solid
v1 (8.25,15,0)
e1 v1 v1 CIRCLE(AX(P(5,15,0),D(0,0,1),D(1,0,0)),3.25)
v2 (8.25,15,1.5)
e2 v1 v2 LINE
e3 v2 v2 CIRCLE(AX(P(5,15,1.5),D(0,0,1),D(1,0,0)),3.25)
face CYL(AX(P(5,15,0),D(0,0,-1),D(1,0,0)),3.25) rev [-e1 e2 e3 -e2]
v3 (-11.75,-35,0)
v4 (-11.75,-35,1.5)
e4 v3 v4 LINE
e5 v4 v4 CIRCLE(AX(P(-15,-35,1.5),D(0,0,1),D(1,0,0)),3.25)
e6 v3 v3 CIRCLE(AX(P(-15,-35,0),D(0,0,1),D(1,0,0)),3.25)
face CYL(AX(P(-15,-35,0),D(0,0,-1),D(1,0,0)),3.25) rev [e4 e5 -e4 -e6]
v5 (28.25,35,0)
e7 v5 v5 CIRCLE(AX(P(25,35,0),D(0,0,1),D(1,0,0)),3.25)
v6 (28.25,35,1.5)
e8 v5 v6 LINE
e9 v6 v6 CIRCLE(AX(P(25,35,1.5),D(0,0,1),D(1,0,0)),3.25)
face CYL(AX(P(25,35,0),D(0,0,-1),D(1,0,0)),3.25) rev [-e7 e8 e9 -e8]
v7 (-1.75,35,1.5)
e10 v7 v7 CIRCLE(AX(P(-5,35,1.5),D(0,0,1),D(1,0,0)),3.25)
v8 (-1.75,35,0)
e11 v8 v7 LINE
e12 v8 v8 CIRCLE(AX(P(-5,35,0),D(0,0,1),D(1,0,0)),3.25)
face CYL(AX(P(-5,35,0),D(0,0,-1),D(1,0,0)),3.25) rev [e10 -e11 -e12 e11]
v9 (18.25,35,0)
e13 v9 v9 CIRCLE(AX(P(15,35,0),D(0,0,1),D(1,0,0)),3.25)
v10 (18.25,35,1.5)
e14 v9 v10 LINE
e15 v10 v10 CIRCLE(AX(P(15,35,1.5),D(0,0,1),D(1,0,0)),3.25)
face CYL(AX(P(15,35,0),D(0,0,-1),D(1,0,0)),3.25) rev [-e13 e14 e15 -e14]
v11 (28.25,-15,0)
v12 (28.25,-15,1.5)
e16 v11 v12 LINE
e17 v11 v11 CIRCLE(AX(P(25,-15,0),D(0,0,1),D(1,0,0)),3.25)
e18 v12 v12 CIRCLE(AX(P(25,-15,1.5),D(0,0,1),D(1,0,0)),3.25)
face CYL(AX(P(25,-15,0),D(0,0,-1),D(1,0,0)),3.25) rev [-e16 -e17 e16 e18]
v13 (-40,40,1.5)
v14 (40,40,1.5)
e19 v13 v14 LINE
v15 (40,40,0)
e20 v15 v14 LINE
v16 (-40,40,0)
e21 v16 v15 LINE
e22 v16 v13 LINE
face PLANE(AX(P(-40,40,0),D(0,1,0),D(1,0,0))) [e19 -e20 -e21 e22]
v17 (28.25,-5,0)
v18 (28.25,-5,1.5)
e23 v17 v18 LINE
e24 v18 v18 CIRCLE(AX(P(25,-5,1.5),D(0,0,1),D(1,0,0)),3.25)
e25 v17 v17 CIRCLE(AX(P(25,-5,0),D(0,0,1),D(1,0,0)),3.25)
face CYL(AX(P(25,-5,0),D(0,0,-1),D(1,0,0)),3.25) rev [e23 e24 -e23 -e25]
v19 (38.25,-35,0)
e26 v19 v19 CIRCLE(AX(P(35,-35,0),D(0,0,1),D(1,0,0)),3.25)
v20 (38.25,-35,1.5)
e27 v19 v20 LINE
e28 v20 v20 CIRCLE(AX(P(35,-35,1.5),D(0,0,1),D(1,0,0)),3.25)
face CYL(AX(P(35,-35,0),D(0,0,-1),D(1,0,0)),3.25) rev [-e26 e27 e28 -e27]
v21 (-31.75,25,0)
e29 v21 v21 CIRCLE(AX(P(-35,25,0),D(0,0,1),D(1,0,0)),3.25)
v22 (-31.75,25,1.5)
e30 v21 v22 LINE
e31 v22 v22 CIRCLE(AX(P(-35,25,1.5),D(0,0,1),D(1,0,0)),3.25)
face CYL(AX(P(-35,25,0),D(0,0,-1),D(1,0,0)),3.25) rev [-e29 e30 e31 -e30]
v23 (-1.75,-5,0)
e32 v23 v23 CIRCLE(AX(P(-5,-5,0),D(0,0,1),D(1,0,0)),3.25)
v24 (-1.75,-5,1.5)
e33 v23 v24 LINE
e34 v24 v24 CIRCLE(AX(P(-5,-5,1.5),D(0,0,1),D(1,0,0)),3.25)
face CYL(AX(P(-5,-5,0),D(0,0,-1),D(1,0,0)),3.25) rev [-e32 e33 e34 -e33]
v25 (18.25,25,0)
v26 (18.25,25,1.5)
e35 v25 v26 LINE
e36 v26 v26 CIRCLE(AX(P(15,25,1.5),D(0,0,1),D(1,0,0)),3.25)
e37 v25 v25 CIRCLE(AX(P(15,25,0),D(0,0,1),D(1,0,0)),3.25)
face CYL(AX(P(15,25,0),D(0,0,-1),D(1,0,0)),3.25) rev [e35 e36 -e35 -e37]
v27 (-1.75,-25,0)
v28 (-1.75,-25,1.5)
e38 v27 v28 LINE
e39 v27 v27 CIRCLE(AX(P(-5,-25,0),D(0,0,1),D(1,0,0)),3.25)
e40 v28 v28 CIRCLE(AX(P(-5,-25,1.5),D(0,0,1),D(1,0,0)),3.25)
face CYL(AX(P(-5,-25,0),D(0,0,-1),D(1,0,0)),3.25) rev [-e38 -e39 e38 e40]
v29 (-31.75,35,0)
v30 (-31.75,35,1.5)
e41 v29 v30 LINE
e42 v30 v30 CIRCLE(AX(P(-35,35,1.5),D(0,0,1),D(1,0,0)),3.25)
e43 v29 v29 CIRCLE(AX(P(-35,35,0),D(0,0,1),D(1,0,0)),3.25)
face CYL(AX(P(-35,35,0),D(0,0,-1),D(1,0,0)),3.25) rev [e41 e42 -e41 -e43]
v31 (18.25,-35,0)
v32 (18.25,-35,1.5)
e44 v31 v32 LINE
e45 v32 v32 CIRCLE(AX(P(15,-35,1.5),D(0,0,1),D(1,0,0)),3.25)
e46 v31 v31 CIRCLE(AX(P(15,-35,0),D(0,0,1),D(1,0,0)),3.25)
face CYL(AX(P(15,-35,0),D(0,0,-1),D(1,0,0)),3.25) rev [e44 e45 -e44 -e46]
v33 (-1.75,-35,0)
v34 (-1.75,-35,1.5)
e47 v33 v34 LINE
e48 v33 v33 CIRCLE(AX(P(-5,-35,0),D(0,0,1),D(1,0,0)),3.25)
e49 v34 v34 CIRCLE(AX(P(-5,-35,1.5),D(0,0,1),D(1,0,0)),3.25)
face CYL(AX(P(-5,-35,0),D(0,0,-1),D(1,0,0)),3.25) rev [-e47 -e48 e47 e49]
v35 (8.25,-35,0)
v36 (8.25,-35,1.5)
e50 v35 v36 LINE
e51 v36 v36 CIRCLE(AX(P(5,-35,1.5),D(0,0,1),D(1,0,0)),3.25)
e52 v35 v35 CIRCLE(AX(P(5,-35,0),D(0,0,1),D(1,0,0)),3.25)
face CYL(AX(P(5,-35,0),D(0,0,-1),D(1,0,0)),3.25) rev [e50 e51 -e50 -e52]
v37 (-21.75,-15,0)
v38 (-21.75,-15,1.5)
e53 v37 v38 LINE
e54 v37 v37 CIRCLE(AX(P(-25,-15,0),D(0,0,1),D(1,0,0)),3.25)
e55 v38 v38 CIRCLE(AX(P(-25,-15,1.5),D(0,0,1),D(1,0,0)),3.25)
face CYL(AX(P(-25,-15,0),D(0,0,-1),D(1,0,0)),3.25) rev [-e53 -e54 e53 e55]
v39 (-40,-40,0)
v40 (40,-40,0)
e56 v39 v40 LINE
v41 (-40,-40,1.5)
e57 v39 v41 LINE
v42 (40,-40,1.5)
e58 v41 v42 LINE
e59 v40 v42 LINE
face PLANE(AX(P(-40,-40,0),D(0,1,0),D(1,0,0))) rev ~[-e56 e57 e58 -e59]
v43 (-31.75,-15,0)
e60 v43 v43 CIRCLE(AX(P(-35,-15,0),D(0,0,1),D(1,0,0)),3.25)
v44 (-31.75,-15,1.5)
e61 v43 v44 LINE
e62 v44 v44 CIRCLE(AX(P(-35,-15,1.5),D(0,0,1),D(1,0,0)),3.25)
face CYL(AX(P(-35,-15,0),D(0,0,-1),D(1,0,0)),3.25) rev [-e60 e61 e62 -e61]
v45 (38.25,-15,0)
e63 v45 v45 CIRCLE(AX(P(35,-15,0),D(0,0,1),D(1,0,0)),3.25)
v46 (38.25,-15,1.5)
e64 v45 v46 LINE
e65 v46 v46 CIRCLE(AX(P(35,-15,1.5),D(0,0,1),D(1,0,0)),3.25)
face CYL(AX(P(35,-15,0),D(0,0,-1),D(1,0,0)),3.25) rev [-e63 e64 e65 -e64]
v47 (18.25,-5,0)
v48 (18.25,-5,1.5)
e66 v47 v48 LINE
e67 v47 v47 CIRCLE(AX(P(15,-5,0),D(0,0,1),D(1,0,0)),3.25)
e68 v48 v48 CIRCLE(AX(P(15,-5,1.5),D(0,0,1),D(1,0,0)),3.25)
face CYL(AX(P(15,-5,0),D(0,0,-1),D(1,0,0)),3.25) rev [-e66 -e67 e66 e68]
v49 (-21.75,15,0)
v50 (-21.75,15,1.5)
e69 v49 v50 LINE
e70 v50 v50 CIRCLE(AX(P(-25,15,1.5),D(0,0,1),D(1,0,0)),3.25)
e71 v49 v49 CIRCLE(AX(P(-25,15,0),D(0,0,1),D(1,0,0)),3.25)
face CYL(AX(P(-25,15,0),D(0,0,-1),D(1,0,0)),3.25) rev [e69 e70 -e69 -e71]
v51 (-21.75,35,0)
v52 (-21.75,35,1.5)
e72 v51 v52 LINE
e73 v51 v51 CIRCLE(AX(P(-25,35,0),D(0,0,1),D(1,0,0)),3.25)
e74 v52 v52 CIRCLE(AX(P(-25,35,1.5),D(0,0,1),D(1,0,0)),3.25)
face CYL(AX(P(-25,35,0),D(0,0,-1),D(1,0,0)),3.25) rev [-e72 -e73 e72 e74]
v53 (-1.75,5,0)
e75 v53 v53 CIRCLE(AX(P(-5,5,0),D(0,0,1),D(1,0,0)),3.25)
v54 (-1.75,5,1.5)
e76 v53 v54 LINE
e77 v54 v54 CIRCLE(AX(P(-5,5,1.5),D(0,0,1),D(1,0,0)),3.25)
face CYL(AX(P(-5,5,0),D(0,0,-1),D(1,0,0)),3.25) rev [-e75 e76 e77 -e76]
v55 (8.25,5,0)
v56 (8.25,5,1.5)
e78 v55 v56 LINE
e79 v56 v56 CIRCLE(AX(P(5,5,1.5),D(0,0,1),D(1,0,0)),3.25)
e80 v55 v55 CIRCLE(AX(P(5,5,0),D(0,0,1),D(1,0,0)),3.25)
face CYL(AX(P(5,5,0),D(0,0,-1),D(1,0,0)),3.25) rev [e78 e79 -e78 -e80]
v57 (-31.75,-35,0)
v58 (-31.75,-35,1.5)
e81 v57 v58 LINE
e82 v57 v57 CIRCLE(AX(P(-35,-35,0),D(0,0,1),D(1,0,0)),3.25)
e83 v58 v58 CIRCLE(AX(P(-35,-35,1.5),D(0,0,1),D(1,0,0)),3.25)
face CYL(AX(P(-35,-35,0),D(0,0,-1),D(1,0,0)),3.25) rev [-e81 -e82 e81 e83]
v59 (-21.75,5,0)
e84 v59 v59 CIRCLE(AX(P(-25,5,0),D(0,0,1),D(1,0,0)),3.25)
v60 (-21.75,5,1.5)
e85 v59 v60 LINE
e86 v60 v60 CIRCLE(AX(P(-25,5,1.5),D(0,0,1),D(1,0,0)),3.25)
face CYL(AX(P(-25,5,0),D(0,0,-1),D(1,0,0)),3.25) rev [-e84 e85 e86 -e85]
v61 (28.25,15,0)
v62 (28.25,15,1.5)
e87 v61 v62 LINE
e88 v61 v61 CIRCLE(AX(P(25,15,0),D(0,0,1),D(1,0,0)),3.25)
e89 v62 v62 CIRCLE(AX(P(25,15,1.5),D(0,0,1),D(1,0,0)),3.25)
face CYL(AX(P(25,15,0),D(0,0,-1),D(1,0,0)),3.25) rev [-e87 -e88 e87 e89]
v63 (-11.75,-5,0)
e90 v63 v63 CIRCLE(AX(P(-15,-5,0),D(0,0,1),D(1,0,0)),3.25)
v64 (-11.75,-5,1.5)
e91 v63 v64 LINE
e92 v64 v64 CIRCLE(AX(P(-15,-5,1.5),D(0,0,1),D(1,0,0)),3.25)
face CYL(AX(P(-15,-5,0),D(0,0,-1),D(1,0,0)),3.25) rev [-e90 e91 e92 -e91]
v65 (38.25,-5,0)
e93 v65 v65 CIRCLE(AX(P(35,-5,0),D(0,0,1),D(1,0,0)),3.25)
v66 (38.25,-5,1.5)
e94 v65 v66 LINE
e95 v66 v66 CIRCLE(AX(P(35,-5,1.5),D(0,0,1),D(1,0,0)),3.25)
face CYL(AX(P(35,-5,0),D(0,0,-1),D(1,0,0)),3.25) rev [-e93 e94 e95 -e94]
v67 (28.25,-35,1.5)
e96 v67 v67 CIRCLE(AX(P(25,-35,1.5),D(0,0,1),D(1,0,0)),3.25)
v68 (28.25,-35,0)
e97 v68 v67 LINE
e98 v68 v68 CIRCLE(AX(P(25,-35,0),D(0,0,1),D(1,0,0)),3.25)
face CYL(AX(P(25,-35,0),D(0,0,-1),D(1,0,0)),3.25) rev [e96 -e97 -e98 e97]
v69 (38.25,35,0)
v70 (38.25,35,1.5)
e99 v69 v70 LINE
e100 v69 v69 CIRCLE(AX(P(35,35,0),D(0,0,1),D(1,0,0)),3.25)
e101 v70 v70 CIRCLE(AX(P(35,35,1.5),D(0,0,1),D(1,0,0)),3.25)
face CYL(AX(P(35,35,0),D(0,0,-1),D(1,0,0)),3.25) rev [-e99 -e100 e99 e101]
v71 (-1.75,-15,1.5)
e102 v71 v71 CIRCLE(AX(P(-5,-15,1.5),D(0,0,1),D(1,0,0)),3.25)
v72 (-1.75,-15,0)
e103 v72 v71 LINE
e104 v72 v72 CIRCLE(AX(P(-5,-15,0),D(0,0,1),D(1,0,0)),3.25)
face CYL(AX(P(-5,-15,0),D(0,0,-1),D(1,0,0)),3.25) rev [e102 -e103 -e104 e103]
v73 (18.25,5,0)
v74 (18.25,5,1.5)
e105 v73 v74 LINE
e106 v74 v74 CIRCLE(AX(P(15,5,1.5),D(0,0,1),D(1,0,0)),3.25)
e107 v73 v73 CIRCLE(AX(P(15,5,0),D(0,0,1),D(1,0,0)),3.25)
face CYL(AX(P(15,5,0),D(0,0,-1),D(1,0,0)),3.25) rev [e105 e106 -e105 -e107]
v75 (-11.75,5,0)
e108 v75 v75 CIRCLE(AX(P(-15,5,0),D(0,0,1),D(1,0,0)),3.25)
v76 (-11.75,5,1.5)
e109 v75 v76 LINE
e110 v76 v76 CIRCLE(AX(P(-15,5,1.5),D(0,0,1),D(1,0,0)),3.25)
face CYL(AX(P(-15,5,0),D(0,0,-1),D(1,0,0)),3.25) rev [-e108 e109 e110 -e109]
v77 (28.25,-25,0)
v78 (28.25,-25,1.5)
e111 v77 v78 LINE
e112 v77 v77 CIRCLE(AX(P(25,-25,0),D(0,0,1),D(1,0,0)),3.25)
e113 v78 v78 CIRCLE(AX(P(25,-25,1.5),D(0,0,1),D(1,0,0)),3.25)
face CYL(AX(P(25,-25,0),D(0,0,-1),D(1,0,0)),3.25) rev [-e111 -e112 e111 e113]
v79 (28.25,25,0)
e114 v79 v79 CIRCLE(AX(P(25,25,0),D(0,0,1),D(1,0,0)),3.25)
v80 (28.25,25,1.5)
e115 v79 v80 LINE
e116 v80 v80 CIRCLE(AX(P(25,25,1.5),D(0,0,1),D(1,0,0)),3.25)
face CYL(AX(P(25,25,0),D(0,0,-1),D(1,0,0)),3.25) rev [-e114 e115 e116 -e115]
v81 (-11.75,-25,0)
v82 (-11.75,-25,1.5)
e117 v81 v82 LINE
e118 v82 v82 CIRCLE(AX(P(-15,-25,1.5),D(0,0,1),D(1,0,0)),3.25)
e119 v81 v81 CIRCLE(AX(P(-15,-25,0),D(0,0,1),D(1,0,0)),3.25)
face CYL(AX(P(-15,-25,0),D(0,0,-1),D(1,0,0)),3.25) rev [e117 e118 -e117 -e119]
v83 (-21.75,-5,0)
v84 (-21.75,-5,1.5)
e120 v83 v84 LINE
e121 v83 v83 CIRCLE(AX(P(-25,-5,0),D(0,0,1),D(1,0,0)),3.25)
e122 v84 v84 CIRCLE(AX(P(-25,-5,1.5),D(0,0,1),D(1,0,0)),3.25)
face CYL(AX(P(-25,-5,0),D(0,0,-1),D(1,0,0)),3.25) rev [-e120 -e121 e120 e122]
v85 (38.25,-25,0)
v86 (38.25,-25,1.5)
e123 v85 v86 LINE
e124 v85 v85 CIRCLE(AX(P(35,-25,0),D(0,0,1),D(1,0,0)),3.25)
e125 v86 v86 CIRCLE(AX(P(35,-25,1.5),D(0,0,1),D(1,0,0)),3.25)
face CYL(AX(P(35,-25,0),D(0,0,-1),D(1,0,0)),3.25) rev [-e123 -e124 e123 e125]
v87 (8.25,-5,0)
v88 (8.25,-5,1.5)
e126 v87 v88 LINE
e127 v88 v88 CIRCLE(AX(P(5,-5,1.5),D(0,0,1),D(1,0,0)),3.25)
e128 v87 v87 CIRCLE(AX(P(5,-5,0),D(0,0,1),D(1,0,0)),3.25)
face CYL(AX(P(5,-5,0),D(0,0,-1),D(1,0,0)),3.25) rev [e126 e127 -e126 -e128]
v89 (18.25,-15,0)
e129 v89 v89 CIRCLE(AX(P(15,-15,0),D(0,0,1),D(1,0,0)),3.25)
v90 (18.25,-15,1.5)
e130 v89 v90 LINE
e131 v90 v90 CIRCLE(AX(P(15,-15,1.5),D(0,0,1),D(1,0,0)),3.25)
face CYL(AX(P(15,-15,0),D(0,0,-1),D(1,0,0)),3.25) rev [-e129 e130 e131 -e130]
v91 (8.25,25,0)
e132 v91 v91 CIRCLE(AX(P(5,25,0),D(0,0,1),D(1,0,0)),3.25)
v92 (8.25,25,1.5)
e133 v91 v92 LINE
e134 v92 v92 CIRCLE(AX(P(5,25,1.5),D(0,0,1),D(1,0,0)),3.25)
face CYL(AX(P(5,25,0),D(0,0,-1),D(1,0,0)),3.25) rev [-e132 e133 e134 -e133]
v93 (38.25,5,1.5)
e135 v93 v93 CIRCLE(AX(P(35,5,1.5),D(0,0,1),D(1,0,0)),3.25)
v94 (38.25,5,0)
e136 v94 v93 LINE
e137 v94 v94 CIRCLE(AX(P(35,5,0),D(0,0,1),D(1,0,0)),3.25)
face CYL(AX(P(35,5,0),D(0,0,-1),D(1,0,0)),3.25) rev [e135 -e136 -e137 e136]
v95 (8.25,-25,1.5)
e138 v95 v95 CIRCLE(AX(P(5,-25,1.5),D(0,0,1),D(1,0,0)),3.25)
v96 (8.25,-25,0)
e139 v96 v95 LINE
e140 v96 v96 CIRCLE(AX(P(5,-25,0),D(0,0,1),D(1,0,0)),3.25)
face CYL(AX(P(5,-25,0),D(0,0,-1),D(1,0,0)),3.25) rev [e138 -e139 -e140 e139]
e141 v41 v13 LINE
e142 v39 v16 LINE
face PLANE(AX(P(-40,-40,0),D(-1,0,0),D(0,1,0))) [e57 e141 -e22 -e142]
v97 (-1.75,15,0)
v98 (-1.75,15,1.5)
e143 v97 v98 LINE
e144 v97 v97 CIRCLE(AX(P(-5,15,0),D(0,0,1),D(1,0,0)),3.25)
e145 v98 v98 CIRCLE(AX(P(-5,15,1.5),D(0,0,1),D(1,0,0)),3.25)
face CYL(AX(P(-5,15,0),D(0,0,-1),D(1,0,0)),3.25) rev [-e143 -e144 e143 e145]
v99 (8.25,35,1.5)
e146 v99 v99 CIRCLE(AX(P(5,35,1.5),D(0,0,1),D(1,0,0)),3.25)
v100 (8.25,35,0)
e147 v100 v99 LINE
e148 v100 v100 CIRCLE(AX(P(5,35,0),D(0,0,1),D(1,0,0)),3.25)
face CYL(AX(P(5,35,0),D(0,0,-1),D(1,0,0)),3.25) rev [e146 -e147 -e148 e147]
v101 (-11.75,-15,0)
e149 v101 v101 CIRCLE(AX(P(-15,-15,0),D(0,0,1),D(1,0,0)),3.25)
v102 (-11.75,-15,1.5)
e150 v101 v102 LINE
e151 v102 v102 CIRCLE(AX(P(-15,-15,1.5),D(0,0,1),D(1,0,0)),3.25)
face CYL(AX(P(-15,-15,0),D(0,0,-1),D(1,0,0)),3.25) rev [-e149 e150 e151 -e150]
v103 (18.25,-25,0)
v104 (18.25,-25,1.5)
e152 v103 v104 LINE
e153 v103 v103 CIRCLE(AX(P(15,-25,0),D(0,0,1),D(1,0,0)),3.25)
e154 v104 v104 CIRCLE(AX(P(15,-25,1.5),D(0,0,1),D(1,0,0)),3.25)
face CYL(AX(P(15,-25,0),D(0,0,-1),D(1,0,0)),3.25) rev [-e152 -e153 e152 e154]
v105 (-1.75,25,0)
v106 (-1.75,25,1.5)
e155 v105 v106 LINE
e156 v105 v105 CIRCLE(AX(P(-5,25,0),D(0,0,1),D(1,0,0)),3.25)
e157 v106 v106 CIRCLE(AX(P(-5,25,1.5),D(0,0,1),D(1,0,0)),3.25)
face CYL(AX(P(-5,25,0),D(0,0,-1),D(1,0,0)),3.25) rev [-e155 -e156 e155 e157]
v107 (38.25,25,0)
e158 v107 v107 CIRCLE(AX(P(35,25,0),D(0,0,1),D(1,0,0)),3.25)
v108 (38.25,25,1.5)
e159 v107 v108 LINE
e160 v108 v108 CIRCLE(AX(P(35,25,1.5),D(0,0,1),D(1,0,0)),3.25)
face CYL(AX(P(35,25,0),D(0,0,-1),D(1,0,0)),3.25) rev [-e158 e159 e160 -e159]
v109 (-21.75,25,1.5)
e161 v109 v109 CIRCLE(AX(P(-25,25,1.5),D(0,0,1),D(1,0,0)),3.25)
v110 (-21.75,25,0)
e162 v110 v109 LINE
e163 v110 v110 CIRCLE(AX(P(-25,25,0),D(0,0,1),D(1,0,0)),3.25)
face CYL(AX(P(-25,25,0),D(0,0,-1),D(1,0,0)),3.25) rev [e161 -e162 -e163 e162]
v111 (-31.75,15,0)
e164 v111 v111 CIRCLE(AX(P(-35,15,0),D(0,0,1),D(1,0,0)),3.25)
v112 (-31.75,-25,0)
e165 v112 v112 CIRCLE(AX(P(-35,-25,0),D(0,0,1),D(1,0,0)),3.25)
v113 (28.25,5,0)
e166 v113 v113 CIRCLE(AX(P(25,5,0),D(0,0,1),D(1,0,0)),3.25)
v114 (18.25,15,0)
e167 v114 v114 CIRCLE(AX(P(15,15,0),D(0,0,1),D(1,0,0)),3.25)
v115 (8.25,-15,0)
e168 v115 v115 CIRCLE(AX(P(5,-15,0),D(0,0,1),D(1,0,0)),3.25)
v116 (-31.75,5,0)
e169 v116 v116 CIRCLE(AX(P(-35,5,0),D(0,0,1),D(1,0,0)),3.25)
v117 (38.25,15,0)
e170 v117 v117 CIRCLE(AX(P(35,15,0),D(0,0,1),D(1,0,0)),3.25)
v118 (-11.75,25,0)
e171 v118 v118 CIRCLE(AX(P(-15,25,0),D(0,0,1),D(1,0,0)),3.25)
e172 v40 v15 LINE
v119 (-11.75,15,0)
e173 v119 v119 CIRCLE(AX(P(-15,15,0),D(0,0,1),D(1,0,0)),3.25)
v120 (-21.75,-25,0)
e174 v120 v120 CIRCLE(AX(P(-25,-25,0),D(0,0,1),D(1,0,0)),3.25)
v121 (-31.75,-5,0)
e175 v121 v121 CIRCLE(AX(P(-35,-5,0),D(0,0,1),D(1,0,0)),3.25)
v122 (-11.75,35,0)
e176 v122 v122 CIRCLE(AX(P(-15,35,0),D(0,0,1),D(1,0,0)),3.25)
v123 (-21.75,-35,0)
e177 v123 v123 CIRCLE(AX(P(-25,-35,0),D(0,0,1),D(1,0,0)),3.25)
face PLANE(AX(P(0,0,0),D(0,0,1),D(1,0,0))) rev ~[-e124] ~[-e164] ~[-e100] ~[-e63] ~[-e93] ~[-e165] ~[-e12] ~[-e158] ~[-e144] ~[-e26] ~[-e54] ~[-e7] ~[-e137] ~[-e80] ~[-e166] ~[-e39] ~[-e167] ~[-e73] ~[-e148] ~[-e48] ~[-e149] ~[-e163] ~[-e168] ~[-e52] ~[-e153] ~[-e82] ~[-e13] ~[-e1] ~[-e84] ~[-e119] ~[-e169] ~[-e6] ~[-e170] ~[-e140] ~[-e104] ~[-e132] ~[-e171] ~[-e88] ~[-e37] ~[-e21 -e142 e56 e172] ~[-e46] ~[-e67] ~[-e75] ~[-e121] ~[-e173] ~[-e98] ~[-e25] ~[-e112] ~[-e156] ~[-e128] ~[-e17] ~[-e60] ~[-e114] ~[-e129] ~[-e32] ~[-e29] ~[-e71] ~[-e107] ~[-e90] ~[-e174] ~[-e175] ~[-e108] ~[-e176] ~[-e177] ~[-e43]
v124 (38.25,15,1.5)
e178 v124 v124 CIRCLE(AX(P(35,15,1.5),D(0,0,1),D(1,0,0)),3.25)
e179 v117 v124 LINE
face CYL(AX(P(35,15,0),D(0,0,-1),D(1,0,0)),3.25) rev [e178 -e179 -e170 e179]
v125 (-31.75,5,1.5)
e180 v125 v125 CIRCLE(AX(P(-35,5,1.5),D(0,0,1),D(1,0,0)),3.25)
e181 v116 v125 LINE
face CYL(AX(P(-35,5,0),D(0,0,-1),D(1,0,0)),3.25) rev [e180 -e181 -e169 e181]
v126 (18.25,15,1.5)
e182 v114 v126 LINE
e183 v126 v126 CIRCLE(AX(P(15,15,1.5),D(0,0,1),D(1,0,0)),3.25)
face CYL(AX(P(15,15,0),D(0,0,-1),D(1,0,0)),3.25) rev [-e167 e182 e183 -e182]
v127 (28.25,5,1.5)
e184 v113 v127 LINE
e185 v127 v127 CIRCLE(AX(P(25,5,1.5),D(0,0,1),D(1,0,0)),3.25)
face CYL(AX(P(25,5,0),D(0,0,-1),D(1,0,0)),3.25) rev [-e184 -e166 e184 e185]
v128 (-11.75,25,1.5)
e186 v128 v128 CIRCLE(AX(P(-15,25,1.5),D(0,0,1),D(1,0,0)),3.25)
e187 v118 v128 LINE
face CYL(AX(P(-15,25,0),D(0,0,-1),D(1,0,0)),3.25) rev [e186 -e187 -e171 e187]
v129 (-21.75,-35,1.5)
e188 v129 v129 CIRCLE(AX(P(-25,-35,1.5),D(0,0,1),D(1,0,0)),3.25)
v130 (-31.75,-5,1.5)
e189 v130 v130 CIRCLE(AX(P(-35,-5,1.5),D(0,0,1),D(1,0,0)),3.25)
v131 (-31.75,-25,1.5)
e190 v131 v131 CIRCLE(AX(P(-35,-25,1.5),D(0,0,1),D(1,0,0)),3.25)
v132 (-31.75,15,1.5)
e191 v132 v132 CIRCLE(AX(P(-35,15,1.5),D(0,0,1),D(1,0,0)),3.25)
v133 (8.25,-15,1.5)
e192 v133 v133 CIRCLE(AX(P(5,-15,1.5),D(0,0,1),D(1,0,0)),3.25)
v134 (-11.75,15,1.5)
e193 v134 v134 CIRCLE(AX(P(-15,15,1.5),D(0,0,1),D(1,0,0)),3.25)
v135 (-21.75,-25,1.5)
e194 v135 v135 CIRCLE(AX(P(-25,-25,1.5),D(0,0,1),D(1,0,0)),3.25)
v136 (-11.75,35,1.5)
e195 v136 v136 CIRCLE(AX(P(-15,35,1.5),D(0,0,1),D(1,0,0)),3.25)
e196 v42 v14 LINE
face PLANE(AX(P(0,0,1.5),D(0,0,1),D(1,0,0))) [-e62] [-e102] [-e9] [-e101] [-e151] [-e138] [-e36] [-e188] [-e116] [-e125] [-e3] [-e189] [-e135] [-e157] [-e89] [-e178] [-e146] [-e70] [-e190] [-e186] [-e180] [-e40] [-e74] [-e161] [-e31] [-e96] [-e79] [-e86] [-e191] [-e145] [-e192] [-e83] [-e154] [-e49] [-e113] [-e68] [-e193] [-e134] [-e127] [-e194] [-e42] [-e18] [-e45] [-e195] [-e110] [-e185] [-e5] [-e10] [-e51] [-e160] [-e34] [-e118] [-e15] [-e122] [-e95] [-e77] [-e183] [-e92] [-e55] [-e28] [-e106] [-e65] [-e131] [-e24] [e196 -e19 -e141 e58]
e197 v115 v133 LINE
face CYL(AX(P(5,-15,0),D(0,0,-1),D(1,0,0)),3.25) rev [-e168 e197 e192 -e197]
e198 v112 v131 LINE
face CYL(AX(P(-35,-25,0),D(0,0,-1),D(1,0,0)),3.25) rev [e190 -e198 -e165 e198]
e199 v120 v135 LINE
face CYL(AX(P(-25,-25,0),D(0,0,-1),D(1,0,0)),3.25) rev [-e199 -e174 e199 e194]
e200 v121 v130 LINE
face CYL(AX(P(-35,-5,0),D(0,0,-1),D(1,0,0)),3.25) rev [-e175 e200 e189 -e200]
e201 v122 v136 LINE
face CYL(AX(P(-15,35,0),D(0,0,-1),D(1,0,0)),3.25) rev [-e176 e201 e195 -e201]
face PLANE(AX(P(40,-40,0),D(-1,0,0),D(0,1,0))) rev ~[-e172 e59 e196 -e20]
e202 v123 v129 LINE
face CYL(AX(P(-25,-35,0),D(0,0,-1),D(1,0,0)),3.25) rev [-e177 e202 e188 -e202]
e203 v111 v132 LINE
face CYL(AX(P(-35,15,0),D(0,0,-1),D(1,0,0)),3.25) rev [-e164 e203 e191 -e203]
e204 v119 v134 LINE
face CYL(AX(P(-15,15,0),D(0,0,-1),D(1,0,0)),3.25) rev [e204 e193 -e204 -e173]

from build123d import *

# Parameters (mm, degrees)
F0_W     = 80
F0_H     = 80
F0_R     = 3.25
F1_DEPTH = 1.5


with BuildPart() as f1:
    # F0 (on Top) → F1 (new body)
    with BuildSketch(Plane.XY):
        Rectangle(F0_W, F0_H)
        with Locations((-35, -35)):
            Circle(F0_R, mode=Mode.SUBTRACT)
        with Locations((-25, -35)):
            Circle(F0_R, mode=Mode.SUBTRACT)
        with Locations((-35, -25)):
            Circle(F0_R, mode=Mode.SUBTRACT)
        with Locations((-25, -25)):
            Circle(F0_R, mode=Mode.SUBTRACT)
        with Locations((-15, -35)):
            Circle(F0_R, mode=Mode.SUBTRACT)
        with Locations((-5, -35)):
            Circle(F0_R, mode=Mode.SUBTRACT)
        with Locations((-15, -25)):
            Circle(F0_R, mode=Mode.SUBTRACT)
        with Locations((-5, -25)):
            Circle(F0_R, mode=Mode.SUBTRACT)
        with Locations((-35, -15)):
            Circle(F0_R, mode=Mode.SUBTRACT)
        with Locations((-25, -15)):
            Circle(F0_R, mode=Mode.SUBTRACT)
        with Locations((-35, -5)):
            Circle(F0_R, mode=Mode.SUBTRACT)
        with Locations((-25, -5)):
            Circle(F0_R, mode=Mode.SUBTRACT)
        with Locations((-15, -15)):
            Circle(F0_R, mode=Mode.SUBTRACT)
        with Locations((-5, -15)):
            Circle(F0_R, mode=Mode.SUBTRACT)
        with Locations((-15, -5)):
            Circle(F0_R, mode=Mode.SUBTRACT)
        with Locations((-5, -5)):
            Circle(F0_R, mode=Mode.SUBTRACT)
        with Locations((5, -35)):
            Circle(F0_R, mode=Mode.SUBTRACT)
        with Locations((15, -35)):
            Circle(F0_R, mode=Mode.SUBTRACT)
        with Locations((5, -25)):
            Circle(F0_R, mode=Mode.SUBTRACT)
        with Locations((15, -25)):
            Circle(F0_R, mode=Mode.SUBTRACT)
        with Locations((25, -35)):
            Circle(F0_R, mode=Mode.SUBTRACT)
        with Locations((35, -35)):
            Circle(F0_R, mode=Mode.SUBTRACT)
        with Locations((25, -25)):
            Circle(F0_R, mode=Mode.SUBTRACT)
        with Locations((35, -25)):
            Circle(F0_R, mode=Mode.SUBTRACT)
        with Locations((5, -15)):
            Circle(F0_R, mode=Mode.SUBTRACT)
        with Locations((15, -15)):
            Circle(F0_R, mode=Mode.SUBTRACT)
        with Locations((5, -5)):
            Circle(F0_R, mode=Mode.SUBTRACT)
        with Locations((15, -5)):
            Circle(F0_R, mode=Mode.SUBTRACT)
        with Locations((25, -15)):
            Circle(F0_R, mode=Mode.SUBTRACT)
        with Locations((35, -15)):
            Circle(F0_R, mode=Mode.SUBTRACT)
        with Locations((25, -5)):
            Circle(F0_R, mode=Mode.SUBTRACT)
        with Locations((35, -5)):
            Circle(F0_R, mode=Mode.SUBTRACT)
        with Locations((-35, 5)):
            Circle(F0_R, mode=Mode.SUBTRACT)
        with Locations((-25, 5)):
            Circle(F0_R, mode=Mode.SUBTRACT)
        with Locations((-35, 15)):
            Circle(F0_R, mode=Mode.SUBTRACT)
        with Locations((-25, 15)):
            Circle(F0_R, mode=Mode.SUBTRACT)
        with Locations((-15, 5)):
            Circle(F0_R, mode=Mode.SUBTRACT)
        with Locations((-5, 5)):
            Circle(F0_R, mode=Mode.SUBTRACT)
        with Locations((-15, 15)):
            Circle(F0_R, mode=Mode.SUBTRACT)
        with Locations((-5, 15)):
            Circle(F0_R, mode=Mode.SUBTRACT)
        with Locations((-35, 25)):
            Circle(F0_R, mode=Mode.SUBTRACT)
        with Locations((-25, 25)):
            Circle(F0_R, mode=Mode.SUBTRACT)
        with Locations((-35, 35)):
            Circle(F0_R, mode=Mode.SUBTRACT)
        with Locations((-25, 35)):
            Circle(F0_R, mode=Mode.SUBTRACT)
        with Locations((-15, 25)):
            Circle(F0_R, mode=Mode.SUBTRACT)
        with Locations((-5, 25)):
            Circle(F0_R, mode=Mode.SUBTRACT)
        with Locations((-15, 35)):
            Circle(F0_R, mode=Mode.SUBTRACT)
        with Locations((-5, 35)):
            Circle(F0_R, mode=Mode.SUBTRACT)
        with Locations((5, 5)):
            Circle(F0_R, mode=Mode.SUBTRACT)
        with Locations((15, 5)):
            Circle(F0_R, mode=Mode.SUBTRACT)
        with Locations((5, 15)):
            Circle(F0_R, mode=Mode.SUBTRACT)
        with Locations((15, 15)):
            Circle(F0_R, mode=Mode.SUBTRACT)
        with Locations((25, 5)):
            Circle(F0_R, mode=Mode.SUBTRACT)
        with Locations((35, 5)):
            Circle(F0_R, mode=Mode.SUBTRACT)
        with Locations((25, 15)):
            Circle(F0_R, mode=Mode.SUBTRACT)
        with Locations((35, 15)):
            Circle(F0_R, mode=Mode.SUBTRACT)
        with Locations((5, 25)):
            Circle(F0_R, mode=Mode.SUBTRACT)
        with Locations((15, 25)):
            Circle(F0_R, mode=Mode.SUBTRACT)
        with Locations((5, 35)):
            Circle(F0_R, mode=Mode.SUBTRACT)
        with Locations((15, 35)):
            Circle(F0_R, mode=Mode.SUBTRACT)
        with Locations((25, 25)):
            Circle(F0_R, mode=Mode.SUBTRACT)
        with Locations((35, 25)):
            Circle(F0_R, mode=Mode.SUBTRACT)
        with Locations((25, 35)):
            Circle(F0_R, mode=Mode.SUBTRACT)
        with Locations((35, 35)):
            Circle(F0_R, mode=Mode.SUBTRACT)
    extrude(amount=F1_DEPTH)


solid = f1.part
